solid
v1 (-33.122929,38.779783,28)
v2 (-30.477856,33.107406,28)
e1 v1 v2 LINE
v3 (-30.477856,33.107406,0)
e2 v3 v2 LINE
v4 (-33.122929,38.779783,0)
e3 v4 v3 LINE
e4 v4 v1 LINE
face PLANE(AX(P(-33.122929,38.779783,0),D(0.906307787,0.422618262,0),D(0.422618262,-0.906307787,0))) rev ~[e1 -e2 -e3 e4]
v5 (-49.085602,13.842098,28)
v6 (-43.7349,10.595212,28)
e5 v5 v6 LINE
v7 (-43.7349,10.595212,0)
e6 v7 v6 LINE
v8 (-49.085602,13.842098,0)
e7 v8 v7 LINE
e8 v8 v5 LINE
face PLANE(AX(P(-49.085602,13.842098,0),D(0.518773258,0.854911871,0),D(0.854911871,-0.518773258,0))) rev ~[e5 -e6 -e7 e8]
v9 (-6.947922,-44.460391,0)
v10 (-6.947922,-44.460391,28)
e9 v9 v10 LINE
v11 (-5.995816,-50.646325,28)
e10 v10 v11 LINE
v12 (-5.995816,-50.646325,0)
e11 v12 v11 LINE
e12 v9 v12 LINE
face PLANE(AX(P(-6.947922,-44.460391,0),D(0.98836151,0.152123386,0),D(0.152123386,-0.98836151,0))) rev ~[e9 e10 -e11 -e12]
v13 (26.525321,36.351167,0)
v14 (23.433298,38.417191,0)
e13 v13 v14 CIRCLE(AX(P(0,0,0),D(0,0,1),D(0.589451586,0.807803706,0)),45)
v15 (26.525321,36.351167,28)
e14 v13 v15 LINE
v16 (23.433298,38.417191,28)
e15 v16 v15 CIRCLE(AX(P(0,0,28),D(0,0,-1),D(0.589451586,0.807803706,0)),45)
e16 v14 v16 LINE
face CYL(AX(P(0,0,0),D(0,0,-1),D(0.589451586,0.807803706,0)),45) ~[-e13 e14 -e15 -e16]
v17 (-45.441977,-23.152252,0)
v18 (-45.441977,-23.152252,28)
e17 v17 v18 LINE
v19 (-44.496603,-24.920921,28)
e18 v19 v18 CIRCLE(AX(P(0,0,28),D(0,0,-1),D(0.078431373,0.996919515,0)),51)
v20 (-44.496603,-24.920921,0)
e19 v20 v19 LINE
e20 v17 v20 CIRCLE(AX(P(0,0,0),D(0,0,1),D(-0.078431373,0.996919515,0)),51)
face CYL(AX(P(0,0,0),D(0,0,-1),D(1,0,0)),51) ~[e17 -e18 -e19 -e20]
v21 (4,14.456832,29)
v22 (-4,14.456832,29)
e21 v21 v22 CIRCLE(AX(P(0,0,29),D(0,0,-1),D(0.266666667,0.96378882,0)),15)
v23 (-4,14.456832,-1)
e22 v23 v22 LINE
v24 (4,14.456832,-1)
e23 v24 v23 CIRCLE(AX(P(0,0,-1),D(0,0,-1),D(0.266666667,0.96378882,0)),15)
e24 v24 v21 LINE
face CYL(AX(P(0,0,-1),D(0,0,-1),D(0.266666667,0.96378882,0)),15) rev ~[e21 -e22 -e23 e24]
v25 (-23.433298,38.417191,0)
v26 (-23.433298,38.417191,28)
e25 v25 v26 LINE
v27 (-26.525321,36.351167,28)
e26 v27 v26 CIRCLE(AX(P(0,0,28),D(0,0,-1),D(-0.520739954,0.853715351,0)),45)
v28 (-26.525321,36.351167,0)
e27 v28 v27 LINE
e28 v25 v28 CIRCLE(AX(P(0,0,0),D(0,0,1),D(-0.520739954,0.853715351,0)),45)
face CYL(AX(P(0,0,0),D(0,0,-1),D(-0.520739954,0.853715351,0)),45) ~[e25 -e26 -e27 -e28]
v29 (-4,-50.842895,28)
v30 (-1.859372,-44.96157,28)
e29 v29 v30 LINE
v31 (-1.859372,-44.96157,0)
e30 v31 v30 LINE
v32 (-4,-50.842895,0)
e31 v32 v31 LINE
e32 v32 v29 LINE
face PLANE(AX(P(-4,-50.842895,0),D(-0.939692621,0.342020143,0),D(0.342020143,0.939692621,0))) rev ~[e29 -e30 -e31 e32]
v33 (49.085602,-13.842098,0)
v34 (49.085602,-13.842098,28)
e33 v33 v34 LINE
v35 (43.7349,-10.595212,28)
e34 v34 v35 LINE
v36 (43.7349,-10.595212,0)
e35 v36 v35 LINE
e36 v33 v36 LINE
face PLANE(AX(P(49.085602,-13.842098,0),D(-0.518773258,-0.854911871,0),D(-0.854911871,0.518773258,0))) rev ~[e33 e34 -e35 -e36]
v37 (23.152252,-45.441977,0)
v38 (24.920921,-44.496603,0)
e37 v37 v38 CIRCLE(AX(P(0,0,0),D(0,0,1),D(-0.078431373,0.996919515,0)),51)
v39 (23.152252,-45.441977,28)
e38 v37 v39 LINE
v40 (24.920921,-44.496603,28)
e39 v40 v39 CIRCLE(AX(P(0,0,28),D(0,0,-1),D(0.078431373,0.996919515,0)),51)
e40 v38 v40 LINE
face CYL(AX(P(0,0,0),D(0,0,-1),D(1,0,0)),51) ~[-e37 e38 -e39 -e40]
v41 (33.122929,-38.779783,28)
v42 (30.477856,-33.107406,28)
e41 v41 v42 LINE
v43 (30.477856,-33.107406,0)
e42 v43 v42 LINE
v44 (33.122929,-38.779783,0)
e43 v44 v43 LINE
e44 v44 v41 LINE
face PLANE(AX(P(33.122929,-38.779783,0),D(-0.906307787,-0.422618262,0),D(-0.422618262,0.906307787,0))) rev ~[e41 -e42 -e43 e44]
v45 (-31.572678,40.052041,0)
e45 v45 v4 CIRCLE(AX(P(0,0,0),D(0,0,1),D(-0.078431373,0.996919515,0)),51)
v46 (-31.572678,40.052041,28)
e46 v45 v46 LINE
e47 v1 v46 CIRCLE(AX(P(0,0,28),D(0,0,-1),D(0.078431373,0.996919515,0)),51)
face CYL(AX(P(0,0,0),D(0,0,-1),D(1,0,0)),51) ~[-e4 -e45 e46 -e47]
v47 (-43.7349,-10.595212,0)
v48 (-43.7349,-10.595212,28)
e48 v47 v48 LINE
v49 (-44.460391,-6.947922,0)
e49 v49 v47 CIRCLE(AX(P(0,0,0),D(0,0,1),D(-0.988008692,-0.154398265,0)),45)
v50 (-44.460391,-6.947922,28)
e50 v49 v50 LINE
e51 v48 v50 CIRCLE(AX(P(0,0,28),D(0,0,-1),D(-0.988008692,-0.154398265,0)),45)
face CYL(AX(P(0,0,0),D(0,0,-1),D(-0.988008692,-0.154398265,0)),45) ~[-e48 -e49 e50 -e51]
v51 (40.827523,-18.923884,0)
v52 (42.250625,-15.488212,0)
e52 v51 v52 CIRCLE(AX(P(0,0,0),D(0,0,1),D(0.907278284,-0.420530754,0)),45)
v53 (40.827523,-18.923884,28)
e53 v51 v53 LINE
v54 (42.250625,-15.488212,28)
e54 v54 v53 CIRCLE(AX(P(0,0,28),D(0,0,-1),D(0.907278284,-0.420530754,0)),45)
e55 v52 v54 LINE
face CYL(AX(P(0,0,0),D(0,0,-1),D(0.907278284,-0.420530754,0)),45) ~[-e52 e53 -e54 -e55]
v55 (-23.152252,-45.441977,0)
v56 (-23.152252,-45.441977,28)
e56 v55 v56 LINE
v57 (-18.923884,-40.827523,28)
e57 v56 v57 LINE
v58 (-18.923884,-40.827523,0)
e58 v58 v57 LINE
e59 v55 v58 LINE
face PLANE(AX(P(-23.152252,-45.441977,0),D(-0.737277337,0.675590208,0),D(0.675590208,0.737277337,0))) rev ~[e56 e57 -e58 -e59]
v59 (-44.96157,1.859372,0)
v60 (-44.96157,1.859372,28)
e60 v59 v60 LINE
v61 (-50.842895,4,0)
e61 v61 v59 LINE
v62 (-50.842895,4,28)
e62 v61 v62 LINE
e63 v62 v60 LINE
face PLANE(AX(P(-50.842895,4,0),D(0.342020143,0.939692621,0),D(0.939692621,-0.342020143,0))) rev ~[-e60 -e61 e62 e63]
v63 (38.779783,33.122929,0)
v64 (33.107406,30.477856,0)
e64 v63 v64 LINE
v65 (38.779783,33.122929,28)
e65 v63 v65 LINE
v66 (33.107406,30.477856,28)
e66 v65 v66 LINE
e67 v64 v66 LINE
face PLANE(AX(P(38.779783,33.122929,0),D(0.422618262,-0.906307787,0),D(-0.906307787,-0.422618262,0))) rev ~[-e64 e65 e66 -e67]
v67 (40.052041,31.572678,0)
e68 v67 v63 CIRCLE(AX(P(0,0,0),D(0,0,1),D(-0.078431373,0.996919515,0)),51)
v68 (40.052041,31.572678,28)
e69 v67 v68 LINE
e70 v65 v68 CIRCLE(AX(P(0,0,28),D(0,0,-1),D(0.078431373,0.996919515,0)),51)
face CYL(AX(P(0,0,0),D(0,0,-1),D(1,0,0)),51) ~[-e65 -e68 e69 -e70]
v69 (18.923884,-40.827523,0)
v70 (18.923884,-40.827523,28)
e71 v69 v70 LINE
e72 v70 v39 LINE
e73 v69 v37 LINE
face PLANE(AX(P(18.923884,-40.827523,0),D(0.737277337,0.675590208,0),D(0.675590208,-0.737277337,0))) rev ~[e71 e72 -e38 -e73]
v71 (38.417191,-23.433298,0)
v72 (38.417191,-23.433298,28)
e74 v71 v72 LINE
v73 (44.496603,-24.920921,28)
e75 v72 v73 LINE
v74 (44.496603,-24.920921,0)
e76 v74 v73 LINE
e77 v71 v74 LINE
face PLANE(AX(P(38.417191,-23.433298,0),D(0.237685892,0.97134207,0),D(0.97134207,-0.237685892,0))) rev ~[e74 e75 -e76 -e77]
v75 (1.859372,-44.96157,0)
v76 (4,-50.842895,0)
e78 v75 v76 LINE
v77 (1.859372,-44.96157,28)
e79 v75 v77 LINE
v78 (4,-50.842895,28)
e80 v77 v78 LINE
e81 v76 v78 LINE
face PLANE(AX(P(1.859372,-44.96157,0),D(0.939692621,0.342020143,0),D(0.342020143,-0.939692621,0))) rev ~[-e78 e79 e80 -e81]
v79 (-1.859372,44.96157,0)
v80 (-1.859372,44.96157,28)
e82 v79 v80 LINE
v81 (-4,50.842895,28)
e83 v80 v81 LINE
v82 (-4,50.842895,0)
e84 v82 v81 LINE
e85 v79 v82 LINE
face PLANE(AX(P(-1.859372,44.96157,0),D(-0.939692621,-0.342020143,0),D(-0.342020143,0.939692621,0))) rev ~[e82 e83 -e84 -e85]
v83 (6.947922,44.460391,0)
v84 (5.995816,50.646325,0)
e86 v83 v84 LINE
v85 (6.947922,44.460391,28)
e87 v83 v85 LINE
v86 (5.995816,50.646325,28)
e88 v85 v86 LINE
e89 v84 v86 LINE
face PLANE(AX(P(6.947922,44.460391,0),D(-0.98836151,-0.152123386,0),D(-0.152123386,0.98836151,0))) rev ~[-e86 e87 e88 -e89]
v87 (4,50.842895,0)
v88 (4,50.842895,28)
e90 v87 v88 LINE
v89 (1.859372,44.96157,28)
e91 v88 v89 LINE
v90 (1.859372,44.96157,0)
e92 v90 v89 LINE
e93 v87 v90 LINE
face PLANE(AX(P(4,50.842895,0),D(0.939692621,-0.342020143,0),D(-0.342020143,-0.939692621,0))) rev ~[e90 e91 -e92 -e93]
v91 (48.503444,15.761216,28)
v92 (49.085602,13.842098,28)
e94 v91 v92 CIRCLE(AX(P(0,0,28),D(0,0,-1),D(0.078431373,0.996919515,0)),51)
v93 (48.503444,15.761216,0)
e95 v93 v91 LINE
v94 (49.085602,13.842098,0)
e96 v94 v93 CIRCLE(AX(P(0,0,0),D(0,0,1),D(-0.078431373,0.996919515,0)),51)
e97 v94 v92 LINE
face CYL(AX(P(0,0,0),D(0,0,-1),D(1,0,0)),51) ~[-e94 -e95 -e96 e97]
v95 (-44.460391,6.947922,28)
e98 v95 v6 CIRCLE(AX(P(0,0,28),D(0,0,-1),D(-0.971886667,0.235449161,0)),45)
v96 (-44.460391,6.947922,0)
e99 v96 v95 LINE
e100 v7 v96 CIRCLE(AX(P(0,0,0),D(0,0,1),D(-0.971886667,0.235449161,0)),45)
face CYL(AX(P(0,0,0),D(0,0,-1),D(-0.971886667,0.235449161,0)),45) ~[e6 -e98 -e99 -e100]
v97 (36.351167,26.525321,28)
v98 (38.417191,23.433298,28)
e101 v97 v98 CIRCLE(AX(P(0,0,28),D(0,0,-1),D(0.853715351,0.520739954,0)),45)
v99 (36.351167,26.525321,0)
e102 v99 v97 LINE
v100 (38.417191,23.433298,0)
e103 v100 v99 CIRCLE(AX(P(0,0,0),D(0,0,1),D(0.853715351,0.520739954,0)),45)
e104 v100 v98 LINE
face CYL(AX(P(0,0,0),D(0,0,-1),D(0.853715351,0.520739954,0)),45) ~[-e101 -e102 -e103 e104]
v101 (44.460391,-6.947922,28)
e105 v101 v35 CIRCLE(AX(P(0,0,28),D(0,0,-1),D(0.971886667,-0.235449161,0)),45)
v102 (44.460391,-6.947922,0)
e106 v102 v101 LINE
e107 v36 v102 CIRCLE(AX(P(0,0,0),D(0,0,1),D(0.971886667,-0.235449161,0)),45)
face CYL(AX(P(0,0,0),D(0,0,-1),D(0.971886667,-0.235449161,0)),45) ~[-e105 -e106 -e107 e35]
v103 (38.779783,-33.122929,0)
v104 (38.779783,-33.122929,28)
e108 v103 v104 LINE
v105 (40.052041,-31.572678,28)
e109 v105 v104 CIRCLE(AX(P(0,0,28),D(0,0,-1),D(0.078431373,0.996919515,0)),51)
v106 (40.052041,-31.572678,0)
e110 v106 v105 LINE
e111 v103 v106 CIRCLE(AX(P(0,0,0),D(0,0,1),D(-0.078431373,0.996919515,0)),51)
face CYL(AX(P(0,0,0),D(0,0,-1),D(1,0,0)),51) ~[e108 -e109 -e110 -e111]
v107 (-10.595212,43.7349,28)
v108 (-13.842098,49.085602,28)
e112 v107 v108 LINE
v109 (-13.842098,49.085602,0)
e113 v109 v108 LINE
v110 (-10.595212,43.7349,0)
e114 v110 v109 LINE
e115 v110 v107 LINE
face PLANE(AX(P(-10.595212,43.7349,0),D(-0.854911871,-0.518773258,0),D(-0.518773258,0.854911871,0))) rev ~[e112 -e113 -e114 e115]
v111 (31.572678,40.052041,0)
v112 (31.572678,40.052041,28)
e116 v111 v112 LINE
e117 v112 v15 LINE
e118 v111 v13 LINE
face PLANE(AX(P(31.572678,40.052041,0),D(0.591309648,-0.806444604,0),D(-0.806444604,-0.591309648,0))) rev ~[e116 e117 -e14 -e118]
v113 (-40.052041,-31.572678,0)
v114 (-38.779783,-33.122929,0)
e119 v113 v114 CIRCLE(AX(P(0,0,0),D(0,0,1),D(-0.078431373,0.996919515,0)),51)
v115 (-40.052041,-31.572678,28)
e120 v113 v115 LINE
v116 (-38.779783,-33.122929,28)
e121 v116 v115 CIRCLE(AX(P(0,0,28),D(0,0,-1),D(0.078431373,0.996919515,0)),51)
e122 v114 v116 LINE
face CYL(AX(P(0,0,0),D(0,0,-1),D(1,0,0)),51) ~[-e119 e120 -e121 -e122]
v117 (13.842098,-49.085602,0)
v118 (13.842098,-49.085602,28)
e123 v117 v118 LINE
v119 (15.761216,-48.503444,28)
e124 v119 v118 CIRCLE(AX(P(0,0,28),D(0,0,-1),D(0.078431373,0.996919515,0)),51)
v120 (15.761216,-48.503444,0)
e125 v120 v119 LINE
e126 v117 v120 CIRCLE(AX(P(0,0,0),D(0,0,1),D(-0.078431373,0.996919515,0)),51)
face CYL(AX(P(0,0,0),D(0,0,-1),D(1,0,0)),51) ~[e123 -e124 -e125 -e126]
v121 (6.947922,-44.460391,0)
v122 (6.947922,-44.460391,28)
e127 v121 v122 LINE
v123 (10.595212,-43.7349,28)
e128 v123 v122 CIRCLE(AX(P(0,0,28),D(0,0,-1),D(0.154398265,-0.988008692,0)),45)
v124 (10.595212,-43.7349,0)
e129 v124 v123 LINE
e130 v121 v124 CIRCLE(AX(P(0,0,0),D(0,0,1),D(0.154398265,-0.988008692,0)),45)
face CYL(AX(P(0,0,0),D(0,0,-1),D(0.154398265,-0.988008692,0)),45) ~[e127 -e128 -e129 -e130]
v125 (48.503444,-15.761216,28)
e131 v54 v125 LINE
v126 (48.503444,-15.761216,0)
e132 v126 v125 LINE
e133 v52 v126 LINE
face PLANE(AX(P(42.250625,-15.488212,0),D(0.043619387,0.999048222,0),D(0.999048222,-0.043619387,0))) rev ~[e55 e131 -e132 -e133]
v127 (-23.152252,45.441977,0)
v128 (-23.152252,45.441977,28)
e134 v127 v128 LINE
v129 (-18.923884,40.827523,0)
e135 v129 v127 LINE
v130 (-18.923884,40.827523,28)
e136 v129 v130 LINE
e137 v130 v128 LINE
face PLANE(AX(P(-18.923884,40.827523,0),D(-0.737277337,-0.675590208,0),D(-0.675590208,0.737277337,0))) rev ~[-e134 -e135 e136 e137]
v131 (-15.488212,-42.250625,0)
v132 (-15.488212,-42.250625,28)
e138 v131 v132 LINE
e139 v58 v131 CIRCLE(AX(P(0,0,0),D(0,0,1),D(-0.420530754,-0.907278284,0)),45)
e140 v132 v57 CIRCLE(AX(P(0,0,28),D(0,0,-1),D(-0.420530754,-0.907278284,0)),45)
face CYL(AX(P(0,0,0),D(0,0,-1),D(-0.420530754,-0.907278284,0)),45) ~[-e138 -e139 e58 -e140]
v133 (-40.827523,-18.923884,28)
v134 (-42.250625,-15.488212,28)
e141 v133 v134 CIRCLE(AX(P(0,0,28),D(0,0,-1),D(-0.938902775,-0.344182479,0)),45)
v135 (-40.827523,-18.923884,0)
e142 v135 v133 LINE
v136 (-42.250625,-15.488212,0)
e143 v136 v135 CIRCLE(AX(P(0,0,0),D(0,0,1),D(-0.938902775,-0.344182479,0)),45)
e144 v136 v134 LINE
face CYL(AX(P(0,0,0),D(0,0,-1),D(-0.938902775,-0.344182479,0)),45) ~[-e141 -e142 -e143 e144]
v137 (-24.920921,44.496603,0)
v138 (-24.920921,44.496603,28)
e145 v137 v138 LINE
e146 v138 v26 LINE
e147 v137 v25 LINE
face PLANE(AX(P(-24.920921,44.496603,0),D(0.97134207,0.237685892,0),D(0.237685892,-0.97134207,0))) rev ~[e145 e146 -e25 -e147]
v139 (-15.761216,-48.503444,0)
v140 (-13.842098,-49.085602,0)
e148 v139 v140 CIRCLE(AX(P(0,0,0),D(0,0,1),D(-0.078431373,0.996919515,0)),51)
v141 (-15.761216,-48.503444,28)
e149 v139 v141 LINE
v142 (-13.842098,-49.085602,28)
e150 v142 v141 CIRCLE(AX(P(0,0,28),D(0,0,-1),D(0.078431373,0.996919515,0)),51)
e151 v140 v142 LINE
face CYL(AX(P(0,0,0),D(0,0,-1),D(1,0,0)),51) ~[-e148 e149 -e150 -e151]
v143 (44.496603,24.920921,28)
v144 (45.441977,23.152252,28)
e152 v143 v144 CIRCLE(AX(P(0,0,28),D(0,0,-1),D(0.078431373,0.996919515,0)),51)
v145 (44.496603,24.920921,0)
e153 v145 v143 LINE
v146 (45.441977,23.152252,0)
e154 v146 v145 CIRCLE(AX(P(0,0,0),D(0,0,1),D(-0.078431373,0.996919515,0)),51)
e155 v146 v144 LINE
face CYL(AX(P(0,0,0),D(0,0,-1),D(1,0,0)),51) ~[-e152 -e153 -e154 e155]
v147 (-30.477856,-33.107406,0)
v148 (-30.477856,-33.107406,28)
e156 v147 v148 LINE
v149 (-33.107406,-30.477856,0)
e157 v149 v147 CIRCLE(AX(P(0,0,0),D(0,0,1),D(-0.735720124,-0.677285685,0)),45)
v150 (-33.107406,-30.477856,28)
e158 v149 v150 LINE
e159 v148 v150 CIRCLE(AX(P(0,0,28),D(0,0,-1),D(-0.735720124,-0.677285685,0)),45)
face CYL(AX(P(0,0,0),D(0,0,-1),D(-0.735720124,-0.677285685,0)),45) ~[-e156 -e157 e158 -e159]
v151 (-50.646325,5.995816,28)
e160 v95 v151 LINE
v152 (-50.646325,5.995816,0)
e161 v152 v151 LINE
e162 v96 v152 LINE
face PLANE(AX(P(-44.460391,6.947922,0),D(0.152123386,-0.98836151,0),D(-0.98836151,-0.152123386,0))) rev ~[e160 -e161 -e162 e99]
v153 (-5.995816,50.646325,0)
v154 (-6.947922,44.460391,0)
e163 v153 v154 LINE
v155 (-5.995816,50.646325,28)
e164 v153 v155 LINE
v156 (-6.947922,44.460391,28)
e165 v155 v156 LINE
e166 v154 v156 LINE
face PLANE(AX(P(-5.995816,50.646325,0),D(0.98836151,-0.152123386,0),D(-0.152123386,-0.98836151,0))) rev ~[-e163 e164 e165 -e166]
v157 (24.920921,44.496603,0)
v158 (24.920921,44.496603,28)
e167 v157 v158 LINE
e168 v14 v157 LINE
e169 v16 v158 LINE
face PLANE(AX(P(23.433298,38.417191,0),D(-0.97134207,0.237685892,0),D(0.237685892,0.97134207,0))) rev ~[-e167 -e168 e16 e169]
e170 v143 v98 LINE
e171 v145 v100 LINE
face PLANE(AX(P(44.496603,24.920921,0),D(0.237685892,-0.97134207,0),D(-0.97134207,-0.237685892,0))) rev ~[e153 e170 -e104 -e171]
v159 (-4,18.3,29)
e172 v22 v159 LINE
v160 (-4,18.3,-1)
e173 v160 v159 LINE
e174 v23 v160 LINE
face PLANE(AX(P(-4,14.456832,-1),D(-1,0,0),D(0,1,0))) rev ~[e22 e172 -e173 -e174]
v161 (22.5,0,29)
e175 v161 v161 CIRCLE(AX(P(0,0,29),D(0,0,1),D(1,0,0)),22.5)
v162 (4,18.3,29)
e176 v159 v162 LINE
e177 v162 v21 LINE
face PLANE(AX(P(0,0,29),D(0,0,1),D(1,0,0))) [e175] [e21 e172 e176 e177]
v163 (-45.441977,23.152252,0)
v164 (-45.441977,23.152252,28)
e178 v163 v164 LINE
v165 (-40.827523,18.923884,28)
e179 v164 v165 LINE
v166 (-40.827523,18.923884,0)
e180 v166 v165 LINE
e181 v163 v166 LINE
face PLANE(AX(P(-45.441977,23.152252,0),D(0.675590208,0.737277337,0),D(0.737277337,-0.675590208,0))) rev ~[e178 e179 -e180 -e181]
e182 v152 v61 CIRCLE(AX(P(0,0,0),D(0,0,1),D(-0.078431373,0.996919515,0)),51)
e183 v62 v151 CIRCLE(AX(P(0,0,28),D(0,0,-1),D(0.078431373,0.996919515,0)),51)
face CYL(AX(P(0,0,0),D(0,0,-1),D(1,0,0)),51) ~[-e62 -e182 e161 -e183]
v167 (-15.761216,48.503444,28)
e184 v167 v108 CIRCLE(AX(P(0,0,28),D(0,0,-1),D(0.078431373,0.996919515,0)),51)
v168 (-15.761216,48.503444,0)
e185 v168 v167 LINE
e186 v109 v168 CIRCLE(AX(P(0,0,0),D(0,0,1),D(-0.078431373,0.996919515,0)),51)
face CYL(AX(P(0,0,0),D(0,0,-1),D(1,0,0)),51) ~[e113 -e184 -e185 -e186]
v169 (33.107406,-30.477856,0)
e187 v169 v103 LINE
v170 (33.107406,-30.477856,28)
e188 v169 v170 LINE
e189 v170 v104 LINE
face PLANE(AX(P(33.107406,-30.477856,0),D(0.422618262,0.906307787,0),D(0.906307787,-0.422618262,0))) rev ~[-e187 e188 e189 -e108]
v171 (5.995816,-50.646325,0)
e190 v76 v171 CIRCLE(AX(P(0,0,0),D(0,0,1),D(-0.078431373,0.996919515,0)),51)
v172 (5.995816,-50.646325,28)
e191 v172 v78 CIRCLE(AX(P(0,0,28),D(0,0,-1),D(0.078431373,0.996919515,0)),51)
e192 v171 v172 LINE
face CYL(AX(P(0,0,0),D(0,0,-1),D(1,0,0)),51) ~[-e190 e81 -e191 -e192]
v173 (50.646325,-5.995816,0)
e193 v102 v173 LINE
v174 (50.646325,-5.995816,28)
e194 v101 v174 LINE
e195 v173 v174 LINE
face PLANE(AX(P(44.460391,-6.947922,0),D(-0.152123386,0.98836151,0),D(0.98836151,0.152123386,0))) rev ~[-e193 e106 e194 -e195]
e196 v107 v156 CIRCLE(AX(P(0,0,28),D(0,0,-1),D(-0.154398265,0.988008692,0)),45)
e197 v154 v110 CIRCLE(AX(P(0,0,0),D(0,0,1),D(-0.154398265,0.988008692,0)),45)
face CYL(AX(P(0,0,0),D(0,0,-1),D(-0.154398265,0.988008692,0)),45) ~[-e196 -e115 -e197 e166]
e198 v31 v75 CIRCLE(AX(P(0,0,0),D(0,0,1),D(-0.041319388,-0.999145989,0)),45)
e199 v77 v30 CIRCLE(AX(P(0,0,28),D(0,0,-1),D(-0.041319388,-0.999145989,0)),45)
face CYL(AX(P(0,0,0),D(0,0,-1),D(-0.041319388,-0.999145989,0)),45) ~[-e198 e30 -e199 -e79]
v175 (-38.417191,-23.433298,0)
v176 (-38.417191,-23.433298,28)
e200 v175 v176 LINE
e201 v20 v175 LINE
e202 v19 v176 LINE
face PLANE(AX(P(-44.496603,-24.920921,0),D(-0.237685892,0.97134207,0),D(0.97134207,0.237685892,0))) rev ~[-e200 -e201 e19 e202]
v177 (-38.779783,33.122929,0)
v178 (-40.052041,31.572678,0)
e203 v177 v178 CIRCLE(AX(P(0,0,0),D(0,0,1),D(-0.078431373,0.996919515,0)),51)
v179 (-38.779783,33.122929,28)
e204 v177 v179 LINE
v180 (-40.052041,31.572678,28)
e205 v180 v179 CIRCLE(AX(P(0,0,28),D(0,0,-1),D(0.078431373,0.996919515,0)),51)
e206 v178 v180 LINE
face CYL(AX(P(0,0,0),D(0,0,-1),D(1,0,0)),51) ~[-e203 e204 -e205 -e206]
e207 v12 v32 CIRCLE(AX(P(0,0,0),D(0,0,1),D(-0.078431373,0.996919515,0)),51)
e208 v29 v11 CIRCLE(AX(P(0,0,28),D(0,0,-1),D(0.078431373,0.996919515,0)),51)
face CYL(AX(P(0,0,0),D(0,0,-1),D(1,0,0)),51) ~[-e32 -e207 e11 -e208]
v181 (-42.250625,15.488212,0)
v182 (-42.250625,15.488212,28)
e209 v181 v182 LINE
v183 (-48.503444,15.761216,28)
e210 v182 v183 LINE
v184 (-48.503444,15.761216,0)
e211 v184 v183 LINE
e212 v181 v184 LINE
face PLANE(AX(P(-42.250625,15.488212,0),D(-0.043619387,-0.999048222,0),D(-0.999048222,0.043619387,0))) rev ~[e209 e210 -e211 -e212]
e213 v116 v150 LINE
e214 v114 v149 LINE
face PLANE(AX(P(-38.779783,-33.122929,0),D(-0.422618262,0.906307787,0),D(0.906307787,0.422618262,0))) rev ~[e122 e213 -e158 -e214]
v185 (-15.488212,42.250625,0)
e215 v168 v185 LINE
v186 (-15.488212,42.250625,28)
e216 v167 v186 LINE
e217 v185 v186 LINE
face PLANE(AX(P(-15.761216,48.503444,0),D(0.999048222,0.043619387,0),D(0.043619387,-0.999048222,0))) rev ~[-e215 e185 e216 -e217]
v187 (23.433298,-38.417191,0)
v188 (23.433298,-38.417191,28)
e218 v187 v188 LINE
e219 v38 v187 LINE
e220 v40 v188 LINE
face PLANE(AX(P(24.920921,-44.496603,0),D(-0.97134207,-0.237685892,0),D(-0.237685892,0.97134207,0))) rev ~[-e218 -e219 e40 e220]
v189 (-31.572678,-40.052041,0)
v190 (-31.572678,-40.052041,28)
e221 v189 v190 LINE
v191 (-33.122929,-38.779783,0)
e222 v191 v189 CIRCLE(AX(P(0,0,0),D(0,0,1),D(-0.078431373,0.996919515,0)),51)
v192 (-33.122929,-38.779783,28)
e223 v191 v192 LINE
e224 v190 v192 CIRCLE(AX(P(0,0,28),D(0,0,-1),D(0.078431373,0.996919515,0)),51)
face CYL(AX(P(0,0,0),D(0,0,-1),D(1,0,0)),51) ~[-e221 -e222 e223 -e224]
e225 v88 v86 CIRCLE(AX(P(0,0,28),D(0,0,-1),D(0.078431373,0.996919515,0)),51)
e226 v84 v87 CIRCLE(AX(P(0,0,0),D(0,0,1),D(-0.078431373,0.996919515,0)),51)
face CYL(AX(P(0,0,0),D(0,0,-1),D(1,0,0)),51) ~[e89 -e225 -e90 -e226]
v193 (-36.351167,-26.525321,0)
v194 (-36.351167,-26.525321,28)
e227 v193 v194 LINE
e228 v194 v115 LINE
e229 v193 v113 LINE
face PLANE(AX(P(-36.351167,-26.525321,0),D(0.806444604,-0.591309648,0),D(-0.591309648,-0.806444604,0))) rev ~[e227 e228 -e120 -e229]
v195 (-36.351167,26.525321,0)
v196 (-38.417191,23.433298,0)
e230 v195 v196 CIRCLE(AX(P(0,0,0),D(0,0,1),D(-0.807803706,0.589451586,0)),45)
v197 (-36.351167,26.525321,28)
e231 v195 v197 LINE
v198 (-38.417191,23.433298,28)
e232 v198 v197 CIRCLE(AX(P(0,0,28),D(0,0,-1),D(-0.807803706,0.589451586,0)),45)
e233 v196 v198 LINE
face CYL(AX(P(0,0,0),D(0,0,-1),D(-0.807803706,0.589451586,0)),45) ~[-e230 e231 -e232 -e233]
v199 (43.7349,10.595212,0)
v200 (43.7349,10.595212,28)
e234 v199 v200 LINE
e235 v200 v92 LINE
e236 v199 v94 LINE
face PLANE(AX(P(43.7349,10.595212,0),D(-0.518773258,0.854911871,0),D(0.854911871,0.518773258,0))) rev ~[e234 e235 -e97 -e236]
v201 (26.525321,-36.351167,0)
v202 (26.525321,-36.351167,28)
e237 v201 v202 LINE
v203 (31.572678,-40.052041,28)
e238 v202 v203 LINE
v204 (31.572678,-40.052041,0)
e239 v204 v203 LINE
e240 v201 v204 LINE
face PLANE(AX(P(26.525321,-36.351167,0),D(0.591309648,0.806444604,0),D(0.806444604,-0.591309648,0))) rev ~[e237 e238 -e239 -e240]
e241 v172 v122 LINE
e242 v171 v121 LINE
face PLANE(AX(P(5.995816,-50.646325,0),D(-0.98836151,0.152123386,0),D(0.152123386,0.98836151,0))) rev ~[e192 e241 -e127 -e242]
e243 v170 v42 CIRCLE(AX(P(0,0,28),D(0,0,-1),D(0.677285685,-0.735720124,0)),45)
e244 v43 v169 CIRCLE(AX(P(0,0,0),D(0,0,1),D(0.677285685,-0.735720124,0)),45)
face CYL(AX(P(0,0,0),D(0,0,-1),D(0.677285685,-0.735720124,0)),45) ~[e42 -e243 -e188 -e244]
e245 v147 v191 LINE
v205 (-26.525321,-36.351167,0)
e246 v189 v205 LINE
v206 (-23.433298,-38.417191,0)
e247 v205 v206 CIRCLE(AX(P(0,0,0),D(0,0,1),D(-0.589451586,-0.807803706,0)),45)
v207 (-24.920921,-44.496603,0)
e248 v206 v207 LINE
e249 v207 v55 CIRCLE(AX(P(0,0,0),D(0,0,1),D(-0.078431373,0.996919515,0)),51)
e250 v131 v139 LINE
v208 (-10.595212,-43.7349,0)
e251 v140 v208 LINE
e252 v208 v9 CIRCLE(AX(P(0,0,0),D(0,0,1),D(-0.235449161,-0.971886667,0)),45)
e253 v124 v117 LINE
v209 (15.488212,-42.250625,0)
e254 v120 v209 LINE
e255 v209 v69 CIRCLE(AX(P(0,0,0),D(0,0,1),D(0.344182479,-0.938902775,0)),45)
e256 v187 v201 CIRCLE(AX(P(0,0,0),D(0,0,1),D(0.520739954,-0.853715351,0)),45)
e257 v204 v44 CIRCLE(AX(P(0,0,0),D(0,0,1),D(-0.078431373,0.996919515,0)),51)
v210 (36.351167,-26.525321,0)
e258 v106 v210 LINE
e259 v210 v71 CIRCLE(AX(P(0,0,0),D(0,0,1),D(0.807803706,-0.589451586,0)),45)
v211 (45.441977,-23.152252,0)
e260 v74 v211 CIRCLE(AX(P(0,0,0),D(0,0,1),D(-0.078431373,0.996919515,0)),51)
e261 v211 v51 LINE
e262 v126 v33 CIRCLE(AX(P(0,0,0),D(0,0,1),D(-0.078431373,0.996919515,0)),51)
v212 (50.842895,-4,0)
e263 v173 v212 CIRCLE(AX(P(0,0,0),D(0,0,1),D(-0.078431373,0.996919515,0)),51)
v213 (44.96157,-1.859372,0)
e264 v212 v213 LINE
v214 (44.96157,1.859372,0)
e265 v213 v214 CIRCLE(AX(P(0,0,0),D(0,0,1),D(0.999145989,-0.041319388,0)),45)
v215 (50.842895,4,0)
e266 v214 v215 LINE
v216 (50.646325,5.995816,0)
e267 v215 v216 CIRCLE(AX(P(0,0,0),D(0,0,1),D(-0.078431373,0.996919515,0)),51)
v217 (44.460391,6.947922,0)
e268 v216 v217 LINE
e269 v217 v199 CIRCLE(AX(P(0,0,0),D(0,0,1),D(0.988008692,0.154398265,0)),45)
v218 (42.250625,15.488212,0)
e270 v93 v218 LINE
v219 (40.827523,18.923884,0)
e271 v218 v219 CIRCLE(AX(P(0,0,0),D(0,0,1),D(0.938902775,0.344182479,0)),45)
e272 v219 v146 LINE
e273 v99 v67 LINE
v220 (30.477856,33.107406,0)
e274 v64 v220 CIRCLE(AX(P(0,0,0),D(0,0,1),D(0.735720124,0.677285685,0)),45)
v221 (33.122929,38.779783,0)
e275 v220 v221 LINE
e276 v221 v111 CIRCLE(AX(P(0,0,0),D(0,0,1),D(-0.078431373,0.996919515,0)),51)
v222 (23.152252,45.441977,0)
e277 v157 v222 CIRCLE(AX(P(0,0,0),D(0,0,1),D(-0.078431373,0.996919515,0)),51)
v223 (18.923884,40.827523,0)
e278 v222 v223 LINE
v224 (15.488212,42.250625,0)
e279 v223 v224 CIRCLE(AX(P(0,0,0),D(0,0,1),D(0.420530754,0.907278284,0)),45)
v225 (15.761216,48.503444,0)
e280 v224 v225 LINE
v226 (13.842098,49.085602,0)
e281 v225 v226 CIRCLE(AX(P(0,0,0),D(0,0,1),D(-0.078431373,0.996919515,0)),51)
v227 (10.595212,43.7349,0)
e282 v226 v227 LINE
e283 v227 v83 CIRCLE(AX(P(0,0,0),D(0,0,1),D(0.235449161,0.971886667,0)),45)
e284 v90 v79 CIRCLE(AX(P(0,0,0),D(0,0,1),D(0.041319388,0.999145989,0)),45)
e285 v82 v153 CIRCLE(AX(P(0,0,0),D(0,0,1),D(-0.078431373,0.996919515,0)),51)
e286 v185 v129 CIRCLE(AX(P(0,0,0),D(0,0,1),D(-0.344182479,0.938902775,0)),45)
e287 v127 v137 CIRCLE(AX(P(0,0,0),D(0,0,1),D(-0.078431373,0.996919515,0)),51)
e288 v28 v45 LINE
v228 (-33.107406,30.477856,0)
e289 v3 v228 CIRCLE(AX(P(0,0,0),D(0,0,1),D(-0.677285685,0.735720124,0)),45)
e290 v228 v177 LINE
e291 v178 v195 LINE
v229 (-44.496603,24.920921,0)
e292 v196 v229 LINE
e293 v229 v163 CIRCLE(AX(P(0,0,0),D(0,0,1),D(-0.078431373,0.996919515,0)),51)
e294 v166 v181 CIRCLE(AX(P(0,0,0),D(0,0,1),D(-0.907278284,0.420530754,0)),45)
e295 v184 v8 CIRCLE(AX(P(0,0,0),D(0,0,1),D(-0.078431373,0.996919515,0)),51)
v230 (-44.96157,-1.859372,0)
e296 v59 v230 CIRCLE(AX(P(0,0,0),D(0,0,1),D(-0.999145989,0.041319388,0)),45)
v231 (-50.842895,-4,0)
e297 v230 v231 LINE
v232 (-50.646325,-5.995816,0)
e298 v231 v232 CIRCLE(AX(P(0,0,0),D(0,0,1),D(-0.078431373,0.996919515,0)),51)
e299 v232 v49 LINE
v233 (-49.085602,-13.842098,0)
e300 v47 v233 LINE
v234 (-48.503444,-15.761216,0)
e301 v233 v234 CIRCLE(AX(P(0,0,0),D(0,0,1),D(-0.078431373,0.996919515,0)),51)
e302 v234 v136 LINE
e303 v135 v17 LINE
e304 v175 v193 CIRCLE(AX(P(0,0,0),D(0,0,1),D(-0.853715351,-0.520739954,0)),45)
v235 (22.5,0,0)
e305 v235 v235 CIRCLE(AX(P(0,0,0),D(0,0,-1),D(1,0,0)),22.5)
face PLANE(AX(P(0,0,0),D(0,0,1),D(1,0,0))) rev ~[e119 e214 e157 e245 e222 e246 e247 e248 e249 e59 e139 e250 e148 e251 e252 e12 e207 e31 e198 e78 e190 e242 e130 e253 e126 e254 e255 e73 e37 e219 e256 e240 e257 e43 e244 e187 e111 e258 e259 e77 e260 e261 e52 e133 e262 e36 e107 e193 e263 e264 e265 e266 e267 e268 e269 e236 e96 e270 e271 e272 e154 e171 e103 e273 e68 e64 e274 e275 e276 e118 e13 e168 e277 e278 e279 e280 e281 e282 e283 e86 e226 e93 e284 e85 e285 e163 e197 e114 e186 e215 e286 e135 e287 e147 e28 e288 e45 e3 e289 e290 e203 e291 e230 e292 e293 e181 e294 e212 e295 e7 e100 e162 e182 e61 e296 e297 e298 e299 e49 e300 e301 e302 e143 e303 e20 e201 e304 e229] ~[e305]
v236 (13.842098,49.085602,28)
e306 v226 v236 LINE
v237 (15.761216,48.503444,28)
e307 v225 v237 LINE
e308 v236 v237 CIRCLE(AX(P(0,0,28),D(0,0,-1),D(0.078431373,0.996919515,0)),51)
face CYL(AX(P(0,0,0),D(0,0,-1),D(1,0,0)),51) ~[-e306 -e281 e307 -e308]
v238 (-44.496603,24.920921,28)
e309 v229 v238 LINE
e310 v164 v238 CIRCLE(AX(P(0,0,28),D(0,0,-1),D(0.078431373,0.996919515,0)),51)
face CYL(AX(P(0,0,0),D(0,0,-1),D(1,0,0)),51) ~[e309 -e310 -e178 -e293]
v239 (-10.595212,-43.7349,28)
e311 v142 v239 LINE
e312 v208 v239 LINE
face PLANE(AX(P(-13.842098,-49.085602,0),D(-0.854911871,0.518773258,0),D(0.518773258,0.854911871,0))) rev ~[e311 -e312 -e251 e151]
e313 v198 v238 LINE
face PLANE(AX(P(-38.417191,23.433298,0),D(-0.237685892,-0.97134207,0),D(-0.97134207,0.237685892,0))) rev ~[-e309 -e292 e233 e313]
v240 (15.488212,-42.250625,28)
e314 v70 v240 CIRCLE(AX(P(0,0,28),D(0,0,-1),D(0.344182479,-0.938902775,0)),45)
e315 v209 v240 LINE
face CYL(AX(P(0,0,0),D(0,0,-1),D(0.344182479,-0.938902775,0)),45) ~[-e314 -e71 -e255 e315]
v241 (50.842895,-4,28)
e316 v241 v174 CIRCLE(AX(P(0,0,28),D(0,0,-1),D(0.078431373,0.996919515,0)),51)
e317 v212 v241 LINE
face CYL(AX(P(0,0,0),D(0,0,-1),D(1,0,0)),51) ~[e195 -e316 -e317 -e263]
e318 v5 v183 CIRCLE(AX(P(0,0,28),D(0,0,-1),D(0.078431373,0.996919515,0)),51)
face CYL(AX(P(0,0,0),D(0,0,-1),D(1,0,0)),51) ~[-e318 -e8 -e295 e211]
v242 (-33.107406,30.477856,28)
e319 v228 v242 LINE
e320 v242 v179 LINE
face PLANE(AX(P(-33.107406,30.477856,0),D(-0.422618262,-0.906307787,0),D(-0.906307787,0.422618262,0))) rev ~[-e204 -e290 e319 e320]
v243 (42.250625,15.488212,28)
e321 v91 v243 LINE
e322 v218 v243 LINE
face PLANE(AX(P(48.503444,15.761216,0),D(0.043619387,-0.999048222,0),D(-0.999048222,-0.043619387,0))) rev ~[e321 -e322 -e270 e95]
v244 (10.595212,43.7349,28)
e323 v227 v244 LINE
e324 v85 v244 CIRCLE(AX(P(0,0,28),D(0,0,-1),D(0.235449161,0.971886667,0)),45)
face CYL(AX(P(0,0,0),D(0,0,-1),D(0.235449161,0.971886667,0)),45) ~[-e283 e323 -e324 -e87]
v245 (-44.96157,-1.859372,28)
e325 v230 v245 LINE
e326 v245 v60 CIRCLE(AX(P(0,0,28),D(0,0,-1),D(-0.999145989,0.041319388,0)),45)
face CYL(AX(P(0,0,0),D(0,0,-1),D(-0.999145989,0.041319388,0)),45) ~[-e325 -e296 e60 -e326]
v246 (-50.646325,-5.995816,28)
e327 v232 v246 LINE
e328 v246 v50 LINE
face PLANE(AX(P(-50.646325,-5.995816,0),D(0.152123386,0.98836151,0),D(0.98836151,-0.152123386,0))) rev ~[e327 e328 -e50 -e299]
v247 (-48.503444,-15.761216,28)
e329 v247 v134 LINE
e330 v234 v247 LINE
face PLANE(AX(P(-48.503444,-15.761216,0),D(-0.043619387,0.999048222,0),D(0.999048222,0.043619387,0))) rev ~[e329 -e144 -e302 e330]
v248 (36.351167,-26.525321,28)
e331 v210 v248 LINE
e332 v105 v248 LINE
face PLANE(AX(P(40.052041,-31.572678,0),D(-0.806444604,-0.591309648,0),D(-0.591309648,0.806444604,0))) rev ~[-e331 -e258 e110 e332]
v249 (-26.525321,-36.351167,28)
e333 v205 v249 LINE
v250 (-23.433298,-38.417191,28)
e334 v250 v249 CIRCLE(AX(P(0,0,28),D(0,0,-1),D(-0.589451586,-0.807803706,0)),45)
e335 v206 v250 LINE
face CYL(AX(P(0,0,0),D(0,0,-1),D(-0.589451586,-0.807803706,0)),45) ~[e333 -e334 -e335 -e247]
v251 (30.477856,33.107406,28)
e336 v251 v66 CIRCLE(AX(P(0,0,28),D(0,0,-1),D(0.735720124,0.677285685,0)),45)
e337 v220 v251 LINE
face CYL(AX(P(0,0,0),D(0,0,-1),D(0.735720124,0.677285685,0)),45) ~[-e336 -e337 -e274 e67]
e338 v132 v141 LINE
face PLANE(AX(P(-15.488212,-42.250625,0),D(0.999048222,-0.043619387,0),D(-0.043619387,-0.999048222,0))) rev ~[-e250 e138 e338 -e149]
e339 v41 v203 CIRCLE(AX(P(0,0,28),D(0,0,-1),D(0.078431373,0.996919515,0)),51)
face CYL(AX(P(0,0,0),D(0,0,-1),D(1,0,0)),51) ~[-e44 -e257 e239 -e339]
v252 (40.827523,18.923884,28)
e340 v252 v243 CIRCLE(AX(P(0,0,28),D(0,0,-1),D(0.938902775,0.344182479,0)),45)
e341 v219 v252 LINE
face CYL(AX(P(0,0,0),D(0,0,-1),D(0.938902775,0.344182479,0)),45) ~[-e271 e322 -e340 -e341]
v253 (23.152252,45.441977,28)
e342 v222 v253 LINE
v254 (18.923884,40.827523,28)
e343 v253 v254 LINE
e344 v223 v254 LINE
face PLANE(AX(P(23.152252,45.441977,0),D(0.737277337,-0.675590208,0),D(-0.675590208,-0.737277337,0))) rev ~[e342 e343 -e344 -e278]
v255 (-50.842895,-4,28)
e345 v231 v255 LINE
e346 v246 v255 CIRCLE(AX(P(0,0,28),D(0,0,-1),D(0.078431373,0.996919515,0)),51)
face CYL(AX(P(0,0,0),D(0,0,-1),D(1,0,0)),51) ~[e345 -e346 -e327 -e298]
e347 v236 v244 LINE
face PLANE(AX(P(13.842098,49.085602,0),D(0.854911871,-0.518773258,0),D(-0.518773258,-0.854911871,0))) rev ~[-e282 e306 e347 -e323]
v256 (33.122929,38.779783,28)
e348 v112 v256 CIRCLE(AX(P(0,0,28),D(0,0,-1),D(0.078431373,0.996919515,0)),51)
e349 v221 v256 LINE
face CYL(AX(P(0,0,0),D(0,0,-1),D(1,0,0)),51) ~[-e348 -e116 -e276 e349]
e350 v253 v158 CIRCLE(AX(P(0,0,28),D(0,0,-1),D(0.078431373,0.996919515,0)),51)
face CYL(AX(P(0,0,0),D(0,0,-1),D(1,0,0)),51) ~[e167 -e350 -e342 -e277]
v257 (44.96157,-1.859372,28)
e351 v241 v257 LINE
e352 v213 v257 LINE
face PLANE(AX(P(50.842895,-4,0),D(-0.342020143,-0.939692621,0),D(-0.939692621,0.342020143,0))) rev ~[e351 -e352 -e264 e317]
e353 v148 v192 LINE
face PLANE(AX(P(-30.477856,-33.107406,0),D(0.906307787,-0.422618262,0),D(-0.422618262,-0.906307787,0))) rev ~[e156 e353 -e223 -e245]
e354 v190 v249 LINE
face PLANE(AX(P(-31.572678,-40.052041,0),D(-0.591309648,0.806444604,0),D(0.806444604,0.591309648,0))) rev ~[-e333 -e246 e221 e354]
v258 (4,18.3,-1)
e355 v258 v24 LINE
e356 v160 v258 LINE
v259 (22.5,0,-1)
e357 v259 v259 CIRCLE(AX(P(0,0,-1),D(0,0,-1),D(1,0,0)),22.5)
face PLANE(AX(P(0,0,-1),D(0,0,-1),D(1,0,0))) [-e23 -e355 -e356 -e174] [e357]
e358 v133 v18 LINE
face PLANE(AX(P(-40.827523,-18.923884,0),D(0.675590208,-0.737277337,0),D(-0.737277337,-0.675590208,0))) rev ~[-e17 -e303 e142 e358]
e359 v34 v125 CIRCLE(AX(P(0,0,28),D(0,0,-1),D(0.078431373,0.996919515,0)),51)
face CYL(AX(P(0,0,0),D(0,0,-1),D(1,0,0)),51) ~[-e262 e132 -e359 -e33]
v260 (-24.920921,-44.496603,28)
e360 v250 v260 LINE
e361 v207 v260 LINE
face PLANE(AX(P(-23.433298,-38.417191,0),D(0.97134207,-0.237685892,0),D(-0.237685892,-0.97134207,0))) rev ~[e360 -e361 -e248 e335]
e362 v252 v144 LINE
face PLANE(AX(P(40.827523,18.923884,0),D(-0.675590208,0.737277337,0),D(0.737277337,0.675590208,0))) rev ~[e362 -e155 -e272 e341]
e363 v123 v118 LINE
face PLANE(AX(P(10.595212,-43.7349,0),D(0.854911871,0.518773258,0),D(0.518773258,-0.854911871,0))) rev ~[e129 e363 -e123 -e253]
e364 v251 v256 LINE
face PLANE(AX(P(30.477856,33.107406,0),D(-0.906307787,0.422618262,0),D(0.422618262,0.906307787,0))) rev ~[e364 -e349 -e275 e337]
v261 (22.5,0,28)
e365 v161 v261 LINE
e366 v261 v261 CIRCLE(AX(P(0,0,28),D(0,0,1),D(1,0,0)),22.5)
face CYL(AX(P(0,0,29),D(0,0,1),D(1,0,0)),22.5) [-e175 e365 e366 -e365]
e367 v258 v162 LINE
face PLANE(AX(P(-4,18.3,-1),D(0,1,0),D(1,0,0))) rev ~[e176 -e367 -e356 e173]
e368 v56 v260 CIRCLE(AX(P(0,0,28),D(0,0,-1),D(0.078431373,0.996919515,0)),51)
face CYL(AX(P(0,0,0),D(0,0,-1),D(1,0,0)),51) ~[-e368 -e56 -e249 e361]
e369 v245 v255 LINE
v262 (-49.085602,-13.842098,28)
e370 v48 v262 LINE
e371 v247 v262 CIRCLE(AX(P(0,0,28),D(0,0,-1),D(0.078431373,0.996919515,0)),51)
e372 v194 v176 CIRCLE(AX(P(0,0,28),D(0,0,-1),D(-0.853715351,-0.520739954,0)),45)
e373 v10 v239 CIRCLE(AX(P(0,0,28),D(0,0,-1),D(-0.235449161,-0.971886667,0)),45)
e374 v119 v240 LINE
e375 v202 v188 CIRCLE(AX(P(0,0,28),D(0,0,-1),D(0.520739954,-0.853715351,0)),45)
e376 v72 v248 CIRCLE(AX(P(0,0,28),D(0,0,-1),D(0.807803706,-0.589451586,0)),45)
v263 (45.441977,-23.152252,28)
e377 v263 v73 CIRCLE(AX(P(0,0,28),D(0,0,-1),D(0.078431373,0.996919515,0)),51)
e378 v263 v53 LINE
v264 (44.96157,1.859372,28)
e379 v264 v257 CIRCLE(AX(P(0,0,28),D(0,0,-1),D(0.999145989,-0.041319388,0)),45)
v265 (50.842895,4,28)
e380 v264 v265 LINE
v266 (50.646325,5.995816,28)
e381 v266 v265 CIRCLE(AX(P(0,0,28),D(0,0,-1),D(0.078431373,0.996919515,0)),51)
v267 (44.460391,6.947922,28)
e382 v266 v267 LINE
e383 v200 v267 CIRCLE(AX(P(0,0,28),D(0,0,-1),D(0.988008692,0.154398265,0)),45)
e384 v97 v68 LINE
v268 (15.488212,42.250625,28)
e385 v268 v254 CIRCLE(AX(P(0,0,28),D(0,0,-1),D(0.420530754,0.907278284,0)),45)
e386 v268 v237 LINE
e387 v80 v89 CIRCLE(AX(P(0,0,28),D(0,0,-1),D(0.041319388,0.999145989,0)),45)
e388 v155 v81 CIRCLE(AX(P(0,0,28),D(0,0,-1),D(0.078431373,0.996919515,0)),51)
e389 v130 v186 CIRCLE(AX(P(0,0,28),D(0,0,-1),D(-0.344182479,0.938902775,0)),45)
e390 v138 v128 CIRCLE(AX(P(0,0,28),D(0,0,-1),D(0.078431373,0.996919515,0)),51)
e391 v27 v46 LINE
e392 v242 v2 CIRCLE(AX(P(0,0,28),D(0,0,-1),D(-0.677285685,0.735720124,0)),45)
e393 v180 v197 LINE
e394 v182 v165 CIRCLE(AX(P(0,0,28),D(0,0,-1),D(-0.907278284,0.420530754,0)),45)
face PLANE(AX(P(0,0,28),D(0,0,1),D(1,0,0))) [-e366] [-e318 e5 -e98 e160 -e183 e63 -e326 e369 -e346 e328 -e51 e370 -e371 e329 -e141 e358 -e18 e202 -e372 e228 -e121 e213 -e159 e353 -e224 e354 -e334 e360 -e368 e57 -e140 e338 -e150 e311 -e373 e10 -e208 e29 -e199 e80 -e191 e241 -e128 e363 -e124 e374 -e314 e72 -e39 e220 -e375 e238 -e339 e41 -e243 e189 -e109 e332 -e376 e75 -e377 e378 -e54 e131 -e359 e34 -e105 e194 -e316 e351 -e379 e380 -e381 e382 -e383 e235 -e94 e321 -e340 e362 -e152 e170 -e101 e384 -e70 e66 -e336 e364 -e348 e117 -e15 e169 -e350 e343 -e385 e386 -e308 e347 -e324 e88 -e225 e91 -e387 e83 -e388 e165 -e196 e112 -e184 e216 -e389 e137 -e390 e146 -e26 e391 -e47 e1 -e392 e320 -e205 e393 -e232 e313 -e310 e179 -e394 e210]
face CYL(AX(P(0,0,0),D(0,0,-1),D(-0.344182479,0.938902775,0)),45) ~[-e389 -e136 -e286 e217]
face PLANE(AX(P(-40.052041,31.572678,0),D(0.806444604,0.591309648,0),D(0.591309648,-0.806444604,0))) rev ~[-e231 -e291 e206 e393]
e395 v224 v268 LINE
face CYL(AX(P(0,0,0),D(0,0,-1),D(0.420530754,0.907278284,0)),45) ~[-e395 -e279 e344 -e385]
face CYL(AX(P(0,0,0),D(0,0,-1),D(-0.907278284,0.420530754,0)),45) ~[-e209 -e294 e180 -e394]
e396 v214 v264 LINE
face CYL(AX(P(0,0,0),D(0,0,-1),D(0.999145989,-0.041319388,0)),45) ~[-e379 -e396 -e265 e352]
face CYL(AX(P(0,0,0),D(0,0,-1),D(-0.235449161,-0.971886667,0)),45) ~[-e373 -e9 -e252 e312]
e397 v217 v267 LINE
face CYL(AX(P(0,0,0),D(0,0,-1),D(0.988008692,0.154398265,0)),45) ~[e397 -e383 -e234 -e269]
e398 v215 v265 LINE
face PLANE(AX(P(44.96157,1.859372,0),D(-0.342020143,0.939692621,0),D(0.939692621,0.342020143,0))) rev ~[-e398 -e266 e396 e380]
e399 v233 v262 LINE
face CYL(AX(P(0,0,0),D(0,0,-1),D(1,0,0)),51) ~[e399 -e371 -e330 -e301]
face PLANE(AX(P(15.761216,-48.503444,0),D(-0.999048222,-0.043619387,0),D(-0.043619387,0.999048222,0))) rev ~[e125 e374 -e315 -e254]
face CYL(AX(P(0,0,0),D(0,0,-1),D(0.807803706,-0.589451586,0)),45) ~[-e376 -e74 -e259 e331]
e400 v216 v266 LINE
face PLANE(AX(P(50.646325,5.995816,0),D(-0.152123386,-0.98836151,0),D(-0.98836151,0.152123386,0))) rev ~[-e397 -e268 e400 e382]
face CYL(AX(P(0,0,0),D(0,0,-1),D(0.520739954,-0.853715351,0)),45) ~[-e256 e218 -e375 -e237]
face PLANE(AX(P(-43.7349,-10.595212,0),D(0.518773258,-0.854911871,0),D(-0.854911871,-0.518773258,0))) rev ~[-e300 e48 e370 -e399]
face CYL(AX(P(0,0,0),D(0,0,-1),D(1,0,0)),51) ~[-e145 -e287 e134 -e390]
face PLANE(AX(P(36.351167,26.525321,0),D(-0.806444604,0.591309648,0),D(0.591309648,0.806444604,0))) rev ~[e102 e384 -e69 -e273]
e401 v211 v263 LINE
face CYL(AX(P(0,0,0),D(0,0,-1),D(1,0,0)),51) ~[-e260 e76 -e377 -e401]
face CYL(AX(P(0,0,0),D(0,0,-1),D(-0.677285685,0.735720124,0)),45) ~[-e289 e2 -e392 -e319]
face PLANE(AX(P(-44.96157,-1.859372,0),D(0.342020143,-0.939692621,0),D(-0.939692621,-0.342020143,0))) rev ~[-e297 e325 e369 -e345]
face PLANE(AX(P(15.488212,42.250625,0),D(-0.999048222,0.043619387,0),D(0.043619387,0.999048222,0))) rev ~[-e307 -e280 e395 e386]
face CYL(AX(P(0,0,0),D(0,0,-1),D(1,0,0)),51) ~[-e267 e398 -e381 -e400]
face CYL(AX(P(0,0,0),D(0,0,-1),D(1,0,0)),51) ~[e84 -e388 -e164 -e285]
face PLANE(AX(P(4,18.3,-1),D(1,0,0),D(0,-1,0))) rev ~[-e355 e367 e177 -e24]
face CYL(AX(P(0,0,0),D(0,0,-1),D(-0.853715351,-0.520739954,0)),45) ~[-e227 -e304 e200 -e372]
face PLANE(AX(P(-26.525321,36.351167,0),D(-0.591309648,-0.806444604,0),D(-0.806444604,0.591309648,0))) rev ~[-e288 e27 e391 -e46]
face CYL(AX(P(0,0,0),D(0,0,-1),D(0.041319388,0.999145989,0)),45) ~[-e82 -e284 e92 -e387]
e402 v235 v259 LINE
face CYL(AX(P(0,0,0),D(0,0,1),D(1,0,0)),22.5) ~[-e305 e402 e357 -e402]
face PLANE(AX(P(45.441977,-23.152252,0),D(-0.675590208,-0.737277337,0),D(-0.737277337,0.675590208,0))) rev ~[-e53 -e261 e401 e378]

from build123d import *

# Parameters (mm, degrees)
SKETCH_1_R               = 51
EXTRUDE_1_DEPTH          = 28
SKETCH_2_R               = 22.5
EXTRUDE_2_DEPTH          = 1
EXTRUDE_START            = 1
SKETCH_3_R               = 22.5
EXTRUDE_3_DEPTH          = 1
CUT_EXTRUDE_1_REACH      = 80.115
CUT_EXTRUDE_2_REACH      = 79.737
PATTERN_CIRCULAR_1_COUNT = 32


with BuildPart() as part:
    # 草图1 → 凸台-拉伸1 (new body)
    with BuildSketch(Plane.XY):
        Circle(SKETCH_1_R)
    extrude(amount=EXTRUDE_1_DEPTH)

    # 草图2 → 凸台-拉伸2 (add)
    with BuildSketch(Plane(origin=(0, 0, 0), x_dir=(-1, 0, 0), z_dir=(0, 0, -1))):
        with Locations(Location((0, 0, 0), (0, 0, 180))):
            Circle(SKETCH_2_R)
    extrude(amount=EXTRUDE_2_DEPTH)

    # 草图3 → 凸台-拉伸3 (add)
    with BuildSketch(Plane.XY.offset(28).offset(EXTRUDE_START)):
        Circle(SKETCH_3_R)
    extrude(amount=-EXTRUDE_3_DEPTH)

    # 草图4 → 切除-拉伸1 (cut, up to next)
    with BuildSketch(Plane(origin=(0, 0, -1), x_dir=(-1, 0, 0), z_dir=(0, 0, -1)), mode=Mode.PRIVATE) as cut_extrude_1_sk1:
        with BuildLine():
            Line((-4, 18.3), (-4, 14.456832295))
            ThreePointArc((-4, 14.456832295), (0, -15), (4, 14.456832295))
            Line((4, 14.456832295), (4, 18.3))
            Line((4, 18.3), (-4, 18.3))
        make_face()
    cut_extrude_1_tool1 = extrude(cut_extrude_1_sk1.sketch, amount=-CUT_EXTRUDE_1_REACH, mode=Mode.PRIVATE) & part.part
    add(cut_extrude_1_tool1.solids().sort_by_distance((0, 0.627325, -1))[0], mode=Mode.SUBTRACT)

    # 草图5 → 切除-拉伸2 (cut, up to next)
    with BuildSketch(Plane(origin=(0, 0, 0), x_dir=(-1, 0, 0), z_dir=(0, 0, -1)), mode=Mode.PRIVATE) as cut_extrude_2_sk1:
        with BuildLine():
            Line((-4, 50.842895276), (-1.859372488, 44.961569523))
            ThreePointArc((-1.859372488, 44.961569523), (0, 45), (1.859372488, 44.961569523))
            Line((1.859372488, 44.961569523), (4, 50.842895276))
            ThreePointArc((4, 50.842895276), (0, 51), (-4, 50.842895276))
        make_face()
    cut_extrude_2_tool1 = extrude(cut_extrude_2_sk1.sketch, amount=-CUT_EXTRUDE_2_REACH, mode=Mode.PRIVATE) & part.part
    cut_extrude_2 = cut_extrude_2_tool1.solids().sort_by_distance((0, 48.332211, 0))[0]
    add(cut_extrude_2, mode=Mode.SUBTRACT)

    # 阵列(圆周)1: 切除-拉伸2 ×32 about axis
    pattern_circular_1_axis = Axis((0, 0, 0), (0, 0, 1))
    for i in range(1, PATTERN_CIRCULAR_1_COUNT):
        add(cut_extrude_2.rotate(pattern_circular_1_axis, i * 360 / PATTERN_CIRCULAR_1_COUNT), mode=Mode.SUBTRACT)


solid = part.part
